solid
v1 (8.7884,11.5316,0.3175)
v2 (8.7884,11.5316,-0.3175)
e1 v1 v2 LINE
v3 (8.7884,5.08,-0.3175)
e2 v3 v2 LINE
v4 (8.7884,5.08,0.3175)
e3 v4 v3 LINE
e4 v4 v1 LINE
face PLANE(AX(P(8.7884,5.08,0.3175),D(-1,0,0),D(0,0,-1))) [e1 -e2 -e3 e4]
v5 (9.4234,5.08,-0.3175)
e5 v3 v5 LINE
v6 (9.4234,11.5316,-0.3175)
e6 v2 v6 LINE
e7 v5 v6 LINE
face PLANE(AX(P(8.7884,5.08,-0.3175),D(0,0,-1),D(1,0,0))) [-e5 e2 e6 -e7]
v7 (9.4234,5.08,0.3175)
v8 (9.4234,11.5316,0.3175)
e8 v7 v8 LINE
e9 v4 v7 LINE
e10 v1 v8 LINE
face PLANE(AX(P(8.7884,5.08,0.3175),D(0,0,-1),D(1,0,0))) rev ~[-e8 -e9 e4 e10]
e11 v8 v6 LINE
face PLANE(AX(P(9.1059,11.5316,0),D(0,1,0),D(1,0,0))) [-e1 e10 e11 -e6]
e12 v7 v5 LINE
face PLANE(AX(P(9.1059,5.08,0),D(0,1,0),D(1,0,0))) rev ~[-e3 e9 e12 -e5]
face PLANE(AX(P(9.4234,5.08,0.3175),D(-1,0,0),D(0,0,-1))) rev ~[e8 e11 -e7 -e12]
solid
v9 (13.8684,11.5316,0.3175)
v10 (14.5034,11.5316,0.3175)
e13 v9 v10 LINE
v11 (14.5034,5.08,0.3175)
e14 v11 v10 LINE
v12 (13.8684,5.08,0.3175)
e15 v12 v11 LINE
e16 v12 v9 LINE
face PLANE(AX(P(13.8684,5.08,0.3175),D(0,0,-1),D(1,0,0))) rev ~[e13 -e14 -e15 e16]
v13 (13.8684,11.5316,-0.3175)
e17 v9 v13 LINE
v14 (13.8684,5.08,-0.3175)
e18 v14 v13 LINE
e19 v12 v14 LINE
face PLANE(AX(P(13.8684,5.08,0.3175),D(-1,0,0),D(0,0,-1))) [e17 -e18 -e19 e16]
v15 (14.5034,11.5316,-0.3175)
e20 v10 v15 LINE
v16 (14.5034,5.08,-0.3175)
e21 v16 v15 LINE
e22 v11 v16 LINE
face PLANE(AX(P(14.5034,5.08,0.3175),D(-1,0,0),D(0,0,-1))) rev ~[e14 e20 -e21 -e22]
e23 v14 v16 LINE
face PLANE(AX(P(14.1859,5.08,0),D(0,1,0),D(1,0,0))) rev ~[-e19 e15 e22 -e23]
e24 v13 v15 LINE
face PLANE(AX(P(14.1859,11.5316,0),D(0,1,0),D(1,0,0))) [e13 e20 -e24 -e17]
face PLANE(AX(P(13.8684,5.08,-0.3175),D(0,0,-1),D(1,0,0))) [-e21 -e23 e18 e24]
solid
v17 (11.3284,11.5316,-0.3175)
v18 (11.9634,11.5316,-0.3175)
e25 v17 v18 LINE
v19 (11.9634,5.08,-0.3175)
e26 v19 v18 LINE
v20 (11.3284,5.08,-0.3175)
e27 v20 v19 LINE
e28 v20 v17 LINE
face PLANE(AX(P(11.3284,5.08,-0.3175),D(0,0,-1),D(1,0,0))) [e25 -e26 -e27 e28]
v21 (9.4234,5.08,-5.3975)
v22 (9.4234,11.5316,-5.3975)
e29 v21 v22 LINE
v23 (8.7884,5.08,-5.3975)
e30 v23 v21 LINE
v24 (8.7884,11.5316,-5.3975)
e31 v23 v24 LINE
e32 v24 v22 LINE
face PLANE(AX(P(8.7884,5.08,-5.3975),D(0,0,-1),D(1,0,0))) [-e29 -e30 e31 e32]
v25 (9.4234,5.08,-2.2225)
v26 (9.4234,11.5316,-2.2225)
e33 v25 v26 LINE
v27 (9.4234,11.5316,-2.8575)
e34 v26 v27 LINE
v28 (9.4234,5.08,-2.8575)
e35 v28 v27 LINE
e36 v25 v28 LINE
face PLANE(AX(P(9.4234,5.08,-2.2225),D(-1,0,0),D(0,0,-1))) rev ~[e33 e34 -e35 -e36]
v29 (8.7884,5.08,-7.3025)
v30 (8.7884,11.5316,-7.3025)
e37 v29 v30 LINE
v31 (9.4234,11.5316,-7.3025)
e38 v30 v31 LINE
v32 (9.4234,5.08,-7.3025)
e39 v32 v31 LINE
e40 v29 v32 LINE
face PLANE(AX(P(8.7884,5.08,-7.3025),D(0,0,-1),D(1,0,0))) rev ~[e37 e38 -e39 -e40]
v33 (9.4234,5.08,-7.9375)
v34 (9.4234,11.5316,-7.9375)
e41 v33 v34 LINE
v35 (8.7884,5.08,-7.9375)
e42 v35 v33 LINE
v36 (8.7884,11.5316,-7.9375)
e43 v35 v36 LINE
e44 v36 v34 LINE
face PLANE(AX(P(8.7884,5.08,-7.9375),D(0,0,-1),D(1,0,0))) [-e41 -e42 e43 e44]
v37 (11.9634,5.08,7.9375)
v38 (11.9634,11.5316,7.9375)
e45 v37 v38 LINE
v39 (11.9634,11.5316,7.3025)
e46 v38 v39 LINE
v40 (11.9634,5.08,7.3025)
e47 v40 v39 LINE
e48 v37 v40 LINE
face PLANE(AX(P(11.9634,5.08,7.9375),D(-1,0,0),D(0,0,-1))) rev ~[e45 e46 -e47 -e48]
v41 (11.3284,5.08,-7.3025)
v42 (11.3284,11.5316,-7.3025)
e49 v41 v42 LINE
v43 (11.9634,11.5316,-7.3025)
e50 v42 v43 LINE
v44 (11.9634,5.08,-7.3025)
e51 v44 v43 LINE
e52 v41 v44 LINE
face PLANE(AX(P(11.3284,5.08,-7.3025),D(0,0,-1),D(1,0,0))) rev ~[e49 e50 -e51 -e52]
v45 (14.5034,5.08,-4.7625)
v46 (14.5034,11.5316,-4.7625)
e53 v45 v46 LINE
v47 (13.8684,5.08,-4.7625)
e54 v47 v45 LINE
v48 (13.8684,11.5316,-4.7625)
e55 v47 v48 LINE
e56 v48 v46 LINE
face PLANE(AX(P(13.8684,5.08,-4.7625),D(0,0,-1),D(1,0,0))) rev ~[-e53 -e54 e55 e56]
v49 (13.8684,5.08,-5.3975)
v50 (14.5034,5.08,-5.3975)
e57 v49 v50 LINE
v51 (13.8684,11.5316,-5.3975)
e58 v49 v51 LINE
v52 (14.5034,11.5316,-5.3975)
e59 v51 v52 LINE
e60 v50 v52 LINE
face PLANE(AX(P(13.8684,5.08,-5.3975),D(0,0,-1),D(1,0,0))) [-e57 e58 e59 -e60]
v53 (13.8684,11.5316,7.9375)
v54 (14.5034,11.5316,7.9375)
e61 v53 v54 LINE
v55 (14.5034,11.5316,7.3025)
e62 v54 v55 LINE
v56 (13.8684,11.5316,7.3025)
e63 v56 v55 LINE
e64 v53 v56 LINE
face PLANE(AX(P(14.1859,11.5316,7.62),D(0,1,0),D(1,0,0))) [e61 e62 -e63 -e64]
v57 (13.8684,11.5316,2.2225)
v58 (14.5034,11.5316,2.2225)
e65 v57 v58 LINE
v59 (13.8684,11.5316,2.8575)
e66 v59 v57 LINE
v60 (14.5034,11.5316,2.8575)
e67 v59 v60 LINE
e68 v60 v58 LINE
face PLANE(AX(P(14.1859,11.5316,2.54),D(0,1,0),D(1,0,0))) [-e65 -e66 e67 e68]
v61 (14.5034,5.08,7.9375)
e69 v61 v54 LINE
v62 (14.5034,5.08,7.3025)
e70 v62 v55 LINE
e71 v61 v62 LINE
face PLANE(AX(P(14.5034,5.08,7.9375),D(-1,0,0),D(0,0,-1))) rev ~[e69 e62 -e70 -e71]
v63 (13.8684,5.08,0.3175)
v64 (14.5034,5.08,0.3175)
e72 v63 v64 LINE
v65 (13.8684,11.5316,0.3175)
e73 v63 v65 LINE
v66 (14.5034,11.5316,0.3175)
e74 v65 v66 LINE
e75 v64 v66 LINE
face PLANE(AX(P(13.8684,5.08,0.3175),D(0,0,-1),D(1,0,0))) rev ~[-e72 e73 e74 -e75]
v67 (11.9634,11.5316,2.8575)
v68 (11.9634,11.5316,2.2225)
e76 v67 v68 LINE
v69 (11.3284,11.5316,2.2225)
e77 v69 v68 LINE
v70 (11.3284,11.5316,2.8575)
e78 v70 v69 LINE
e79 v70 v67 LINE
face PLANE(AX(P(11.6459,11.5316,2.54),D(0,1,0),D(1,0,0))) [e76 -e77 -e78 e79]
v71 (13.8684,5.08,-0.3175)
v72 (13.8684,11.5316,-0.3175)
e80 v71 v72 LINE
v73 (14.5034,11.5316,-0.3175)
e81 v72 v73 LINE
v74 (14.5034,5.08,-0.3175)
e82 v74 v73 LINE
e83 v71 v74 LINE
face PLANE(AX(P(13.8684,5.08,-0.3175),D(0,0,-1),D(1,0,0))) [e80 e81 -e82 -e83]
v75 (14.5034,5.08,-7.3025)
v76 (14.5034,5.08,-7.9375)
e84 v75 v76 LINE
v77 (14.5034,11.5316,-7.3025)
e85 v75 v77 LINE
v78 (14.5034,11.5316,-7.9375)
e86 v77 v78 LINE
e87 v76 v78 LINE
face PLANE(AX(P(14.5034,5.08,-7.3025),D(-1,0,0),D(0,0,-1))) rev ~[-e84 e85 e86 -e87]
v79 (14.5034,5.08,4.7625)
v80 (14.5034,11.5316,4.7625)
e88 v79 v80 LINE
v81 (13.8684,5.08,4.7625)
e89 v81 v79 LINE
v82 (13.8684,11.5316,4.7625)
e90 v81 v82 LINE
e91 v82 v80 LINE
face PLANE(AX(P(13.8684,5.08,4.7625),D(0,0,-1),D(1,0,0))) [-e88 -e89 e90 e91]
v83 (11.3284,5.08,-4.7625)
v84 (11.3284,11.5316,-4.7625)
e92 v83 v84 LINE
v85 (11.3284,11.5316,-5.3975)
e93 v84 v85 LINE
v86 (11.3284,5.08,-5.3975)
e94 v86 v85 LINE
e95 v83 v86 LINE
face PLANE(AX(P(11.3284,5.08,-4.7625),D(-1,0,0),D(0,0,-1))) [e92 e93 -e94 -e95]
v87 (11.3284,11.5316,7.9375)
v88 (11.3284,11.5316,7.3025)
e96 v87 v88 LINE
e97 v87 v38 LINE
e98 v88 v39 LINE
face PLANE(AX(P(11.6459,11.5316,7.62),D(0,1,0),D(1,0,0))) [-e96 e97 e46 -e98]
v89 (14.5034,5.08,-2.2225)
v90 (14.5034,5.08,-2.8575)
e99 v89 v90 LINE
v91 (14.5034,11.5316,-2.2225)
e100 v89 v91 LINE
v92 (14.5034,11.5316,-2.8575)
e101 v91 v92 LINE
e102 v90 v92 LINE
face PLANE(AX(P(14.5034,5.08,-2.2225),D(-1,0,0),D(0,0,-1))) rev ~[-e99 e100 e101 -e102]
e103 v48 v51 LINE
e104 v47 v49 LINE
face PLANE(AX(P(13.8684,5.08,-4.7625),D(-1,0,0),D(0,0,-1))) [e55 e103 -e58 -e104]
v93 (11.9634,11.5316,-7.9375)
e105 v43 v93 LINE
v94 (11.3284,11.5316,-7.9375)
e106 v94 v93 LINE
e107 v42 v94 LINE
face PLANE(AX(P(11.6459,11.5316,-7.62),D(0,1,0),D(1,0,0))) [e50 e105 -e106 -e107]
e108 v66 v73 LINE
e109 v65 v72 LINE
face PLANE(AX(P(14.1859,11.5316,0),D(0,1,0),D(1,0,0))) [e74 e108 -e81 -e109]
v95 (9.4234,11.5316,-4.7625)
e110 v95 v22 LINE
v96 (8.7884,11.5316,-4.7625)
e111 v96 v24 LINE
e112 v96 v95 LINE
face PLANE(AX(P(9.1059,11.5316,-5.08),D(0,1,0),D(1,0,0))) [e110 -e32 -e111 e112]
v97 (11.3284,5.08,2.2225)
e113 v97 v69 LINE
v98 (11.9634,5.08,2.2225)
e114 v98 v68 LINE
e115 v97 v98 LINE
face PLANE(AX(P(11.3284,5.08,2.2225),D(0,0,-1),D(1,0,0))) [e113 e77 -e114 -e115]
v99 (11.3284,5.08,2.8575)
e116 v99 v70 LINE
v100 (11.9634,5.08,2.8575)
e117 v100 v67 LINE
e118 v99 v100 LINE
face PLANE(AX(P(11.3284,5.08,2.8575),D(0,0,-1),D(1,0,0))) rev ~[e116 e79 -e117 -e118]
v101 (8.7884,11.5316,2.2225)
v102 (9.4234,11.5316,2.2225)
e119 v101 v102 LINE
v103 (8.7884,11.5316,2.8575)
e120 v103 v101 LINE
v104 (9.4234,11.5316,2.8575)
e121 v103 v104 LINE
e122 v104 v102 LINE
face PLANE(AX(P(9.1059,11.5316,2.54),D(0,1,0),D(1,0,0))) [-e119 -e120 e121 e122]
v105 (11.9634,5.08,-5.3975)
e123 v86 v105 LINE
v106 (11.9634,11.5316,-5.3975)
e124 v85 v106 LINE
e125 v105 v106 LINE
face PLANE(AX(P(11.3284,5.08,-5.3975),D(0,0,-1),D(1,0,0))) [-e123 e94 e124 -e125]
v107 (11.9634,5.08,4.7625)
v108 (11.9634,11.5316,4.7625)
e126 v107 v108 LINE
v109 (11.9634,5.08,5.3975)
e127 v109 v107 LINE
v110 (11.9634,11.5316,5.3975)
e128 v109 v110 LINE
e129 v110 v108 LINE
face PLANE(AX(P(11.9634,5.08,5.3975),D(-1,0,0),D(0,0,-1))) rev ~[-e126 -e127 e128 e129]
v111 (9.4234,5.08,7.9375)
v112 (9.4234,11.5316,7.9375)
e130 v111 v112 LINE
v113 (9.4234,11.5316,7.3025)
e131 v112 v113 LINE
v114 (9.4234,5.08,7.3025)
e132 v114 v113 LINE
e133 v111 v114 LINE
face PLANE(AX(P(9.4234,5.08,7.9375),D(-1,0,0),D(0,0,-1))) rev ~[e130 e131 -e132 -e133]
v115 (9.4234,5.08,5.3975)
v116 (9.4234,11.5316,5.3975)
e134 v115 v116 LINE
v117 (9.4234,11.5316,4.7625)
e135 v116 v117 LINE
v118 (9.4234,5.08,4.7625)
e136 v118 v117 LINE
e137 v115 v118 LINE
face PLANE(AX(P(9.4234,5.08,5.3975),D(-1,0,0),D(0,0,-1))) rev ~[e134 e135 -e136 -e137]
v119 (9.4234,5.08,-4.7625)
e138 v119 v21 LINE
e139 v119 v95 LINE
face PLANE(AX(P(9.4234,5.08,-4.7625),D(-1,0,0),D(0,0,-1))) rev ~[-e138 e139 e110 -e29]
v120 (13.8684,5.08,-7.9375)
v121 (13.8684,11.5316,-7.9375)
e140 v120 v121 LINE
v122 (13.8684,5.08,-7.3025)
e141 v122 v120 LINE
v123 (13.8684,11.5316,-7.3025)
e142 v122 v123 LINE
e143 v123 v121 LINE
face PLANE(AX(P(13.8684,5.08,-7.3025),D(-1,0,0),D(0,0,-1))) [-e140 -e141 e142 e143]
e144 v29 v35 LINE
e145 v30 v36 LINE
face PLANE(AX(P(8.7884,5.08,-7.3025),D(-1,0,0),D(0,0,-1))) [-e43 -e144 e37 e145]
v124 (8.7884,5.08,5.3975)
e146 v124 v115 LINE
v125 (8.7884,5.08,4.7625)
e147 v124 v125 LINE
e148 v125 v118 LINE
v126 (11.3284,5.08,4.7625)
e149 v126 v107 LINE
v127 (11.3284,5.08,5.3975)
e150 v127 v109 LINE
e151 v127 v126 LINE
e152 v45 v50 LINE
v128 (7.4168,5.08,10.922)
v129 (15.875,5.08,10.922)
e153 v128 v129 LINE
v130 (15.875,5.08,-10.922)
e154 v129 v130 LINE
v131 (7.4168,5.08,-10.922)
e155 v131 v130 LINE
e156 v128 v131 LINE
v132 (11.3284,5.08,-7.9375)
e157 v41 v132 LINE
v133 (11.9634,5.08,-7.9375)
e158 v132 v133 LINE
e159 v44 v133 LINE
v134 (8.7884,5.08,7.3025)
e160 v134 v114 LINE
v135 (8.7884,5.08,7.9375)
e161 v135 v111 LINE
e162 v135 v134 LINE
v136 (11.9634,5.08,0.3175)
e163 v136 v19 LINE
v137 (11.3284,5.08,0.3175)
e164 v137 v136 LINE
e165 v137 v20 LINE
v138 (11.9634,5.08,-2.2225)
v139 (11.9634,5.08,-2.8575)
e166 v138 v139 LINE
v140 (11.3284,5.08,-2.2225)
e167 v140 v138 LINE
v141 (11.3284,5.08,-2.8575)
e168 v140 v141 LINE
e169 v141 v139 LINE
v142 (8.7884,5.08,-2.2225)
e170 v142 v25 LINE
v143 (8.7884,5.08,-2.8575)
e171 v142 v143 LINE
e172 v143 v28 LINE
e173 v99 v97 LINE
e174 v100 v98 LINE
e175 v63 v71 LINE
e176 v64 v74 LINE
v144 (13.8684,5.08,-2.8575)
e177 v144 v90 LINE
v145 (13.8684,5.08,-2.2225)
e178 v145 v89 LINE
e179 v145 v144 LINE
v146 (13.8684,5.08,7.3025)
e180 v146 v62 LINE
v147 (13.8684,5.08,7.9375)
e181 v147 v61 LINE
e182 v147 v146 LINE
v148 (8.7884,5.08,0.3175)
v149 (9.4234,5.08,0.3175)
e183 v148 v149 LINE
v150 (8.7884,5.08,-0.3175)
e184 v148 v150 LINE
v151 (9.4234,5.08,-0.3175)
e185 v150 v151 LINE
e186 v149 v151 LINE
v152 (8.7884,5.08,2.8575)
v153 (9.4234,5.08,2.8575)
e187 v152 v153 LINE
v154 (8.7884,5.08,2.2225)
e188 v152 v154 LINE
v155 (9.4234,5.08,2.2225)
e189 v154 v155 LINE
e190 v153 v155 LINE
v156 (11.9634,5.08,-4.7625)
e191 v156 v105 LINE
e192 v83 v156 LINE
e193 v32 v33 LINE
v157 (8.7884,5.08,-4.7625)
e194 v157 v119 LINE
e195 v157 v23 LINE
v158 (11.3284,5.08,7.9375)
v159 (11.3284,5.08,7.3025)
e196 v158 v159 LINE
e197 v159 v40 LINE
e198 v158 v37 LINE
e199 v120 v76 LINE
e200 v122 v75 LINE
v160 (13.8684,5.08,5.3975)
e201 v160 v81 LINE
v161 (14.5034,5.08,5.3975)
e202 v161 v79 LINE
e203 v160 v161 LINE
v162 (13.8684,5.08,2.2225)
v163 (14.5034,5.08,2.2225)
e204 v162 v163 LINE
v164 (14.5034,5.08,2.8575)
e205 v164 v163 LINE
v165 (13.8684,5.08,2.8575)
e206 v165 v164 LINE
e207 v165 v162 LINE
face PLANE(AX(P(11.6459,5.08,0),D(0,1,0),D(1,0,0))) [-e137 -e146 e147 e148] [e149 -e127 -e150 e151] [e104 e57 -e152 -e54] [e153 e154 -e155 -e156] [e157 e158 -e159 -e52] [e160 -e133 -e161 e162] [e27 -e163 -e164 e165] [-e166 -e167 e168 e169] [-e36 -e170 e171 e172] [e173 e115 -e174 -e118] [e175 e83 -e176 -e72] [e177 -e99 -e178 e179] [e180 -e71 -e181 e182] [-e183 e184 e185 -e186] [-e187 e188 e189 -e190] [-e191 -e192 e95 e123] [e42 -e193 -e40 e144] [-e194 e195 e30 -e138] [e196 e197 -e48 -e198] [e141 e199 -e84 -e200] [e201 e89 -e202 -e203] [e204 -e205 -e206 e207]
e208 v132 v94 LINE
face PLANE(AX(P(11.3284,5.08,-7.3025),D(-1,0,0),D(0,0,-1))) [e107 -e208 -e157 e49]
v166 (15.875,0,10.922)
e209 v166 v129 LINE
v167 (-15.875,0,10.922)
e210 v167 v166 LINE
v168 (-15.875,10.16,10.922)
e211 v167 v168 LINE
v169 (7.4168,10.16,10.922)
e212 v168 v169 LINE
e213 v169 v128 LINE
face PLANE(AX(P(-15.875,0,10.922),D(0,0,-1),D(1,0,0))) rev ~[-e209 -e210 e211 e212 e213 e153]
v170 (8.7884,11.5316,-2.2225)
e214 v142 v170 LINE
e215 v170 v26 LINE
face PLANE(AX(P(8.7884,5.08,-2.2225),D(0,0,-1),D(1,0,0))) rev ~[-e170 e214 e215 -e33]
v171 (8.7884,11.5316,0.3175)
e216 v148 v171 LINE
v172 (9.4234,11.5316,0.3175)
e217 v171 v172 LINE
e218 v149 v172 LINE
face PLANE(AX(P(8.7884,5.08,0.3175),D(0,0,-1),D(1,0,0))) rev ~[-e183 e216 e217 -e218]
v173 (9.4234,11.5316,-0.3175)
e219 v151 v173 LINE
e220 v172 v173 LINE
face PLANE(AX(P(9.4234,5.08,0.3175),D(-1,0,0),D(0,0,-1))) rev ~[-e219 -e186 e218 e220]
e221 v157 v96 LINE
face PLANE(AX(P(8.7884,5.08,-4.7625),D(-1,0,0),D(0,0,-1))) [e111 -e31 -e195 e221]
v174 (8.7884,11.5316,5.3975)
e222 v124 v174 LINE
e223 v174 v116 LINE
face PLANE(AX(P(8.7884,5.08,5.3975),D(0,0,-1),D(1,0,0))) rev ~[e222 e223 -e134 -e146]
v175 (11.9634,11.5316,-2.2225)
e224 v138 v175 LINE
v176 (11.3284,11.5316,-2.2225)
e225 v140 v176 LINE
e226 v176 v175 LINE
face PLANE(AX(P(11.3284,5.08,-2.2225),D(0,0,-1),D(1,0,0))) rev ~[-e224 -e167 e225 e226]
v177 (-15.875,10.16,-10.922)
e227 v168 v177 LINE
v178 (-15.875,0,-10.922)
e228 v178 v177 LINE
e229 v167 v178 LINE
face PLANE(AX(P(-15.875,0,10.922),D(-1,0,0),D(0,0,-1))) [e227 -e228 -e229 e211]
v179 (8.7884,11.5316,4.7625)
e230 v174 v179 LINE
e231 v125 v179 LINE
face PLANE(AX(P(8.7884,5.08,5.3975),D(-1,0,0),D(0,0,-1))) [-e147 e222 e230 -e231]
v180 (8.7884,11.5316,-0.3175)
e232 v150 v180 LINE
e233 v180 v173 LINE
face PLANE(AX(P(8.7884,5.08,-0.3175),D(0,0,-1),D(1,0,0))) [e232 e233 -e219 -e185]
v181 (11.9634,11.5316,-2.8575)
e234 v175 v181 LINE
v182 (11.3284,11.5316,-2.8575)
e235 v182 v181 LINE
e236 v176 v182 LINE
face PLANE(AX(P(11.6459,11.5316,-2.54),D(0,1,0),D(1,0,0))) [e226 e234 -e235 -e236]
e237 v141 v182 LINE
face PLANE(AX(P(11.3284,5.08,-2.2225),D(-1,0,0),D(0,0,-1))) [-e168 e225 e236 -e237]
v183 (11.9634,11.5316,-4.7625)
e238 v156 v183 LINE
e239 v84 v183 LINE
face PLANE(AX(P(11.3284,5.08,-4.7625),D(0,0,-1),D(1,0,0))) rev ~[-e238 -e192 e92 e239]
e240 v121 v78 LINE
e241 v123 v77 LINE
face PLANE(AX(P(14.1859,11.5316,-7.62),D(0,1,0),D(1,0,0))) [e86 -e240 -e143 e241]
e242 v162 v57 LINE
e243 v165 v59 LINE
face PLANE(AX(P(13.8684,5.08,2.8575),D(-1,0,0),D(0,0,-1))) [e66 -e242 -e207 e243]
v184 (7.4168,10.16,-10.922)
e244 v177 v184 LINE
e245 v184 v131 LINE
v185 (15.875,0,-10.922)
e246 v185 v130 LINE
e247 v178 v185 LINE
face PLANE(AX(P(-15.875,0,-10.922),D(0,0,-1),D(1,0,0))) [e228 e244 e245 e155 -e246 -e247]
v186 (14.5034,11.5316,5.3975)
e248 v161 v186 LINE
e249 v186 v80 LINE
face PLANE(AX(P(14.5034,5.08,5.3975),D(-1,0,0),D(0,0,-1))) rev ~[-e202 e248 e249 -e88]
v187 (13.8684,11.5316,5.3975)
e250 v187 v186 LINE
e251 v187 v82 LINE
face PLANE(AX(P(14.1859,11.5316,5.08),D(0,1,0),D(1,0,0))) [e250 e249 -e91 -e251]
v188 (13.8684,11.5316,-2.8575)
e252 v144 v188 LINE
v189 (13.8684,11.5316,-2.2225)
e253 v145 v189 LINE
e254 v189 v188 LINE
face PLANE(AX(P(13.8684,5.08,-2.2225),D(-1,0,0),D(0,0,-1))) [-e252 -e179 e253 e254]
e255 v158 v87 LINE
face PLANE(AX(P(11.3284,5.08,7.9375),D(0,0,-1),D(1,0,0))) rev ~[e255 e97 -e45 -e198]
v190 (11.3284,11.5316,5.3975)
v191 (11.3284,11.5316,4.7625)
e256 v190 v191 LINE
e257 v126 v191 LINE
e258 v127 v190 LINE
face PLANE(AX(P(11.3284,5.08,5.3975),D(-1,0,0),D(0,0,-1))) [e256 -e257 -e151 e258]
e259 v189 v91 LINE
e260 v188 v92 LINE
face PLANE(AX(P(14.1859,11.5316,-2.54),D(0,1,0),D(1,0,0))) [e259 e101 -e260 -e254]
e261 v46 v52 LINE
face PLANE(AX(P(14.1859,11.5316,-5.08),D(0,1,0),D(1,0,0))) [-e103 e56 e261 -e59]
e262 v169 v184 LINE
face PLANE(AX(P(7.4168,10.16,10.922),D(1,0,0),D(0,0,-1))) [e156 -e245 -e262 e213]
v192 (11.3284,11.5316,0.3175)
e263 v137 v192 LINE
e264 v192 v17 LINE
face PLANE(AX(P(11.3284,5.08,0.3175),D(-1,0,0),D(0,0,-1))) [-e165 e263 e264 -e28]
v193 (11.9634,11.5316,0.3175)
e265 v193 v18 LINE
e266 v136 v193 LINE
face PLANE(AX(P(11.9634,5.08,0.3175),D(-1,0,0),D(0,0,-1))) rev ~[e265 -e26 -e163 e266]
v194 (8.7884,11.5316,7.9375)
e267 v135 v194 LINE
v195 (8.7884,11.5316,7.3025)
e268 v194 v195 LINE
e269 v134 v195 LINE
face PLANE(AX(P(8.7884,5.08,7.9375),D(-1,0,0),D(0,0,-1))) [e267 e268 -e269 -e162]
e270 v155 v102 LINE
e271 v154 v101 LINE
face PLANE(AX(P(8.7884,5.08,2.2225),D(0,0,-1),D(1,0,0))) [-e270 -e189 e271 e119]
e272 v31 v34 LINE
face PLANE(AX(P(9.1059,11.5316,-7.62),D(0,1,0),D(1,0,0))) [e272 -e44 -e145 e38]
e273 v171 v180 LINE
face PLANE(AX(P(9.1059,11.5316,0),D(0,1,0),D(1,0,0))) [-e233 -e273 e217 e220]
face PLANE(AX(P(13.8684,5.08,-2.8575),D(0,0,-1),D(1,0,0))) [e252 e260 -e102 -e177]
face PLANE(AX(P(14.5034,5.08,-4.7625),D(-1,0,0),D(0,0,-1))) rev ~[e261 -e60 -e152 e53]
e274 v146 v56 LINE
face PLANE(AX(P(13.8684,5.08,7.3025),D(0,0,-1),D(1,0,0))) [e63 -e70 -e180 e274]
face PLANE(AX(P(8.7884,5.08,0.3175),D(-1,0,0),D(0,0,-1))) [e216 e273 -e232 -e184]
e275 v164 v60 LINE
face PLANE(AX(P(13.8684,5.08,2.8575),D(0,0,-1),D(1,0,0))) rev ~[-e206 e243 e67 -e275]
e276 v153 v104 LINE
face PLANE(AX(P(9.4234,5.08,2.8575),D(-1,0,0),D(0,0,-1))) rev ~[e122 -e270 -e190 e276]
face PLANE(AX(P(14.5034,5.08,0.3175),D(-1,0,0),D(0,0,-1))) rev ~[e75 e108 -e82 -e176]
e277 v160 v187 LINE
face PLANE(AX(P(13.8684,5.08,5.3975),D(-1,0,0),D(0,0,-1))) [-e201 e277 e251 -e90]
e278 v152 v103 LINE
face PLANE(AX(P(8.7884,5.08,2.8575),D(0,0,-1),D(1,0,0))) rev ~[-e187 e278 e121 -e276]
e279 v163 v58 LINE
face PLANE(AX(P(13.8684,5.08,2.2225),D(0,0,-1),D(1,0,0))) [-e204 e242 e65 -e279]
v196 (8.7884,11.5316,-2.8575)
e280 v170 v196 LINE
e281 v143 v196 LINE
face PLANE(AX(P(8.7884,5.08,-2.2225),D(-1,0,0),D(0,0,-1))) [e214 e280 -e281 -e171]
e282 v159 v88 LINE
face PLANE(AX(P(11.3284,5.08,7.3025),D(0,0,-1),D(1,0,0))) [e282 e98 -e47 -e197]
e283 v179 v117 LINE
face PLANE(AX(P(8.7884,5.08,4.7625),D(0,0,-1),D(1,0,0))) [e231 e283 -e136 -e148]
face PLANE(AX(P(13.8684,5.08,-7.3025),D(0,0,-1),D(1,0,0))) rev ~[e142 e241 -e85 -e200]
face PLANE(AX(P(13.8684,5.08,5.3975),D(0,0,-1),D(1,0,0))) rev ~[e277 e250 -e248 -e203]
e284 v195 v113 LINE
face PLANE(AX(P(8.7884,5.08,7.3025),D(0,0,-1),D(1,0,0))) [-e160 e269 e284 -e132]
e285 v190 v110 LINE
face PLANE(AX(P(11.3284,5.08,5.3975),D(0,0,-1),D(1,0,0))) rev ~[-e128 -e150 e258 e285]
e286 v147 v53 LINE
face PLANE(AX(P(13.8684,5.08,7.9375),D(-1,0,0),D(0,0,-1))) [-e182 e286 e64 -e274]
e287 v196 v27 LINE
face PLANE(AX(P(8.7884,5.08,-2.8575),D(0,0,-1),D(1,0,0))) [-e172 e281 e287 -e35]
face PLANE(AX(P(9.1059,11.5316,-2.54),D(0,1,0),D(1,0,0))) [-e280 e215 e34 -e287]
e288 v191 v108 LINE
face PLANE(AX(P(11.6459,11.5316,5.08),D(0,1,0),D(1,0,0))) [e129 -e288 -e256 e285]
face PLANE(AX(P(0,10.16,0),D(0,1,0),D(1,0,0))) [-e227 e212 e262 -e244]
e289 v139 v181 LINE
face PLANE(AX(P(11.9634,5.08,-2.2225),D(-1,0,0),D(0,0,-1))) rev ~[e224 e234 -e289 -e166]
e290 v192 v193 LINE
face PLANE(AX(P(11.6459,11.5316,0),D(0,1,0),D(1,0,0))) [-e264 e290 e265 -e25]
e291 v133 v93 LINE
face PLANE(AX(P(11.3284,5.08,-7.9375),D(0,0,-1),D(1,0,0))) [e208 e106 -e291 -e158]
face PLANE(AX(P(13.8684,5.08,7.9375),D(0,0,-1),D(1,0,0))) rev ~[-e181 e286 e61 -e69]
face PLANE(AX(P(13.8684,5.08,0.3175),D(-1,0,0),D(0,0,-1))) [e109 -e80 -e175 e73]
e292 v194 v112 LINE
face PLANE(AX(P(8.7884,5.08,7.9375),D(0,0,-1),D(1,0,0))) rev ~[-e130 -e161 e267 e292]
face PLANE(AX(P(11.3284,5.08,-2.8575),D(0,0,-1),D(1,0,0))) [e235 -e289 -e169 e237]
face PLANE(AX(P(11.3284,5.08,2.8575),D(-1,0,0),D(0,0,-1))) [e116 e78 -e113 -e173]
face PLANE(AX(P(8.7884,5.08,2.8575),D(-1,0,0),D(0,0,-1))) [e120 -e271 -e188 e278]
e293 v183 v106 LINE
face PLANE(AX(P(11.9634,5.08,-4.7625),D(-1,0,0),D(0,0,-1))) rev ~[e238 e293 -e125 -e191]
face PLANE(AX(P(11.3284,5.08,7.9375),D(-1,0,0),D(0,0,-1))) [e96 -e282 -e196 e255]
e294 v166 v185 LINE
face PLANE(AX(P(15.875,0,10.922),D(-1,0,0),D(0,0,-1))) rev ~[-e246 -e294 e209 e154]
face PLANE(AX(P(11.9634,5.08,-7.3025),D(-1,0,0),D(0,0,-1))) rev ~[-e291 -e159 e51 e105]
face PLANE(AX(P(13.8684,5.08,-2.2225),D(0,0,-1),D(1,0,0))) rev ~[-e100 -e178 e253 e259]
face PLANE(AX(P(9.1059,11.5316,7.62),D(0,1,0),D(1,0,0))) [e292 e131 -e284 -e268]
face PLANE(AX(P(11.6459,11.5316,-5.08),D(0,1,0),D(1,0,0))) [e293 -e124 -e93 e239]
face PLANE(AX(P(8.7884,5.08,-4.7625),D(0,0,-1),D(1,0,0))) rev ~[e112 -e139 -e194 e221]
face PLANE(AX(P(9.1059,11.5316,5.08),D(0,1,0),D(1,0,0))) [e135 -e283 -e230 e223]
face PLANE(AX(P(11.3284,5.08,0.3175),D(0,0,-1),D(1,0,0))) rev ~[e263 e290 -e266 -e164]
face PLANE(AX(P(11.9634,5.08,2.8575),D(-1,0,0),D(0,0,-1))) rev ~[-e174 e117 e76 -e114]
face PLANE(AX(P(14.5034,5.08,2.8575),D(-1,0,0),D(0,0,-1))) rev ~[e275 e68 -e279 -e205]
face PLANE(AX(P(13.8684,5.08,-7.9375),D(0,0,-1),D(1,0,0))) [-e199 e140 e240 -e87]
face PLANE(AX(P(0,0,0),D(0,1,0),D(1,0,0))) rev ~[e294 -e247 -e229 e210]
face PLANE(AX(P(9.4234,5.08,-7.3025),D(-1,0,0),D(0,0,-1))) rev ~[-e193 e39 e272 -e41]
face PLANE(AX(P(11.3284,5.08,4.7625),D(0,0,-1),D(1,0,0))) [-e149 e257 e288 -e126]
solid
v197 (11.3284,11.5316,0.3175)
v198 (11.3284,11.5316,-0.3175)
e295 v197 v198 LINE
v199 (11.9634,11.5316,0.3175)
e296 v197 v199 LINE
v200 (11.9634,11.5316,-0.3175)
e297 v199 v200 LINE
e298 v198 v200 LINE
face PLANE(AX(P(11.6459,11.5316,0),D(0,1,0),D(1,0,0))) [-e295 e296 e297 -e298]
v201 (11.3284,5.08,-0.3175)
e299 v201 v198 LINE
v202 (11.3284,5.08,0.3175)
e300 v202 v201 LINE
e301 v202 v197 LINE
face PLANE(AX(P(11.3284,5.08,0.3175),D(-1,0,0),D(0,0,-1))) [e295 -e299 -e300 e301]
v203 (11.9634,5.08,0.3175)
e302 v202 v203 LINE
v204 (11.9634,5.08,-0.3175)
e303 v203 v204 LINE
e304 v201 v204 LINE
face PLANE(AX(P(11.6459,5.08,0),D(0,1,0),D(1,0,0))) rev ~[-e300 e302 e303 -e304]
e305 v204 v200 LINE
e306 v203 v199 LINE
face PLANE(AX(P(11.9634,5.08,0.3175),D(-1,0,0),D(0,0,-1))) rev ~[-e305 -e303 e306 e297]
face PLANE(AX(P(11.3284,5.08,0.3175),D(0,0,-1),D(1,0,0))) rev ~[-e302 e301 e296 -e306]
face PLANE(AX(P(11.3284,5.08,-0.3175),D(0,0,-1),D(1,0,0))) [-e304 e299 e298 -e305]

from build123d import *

# Parameters (mm, degrees)
SKETCH1_W            = 31.75
SKETCH1_H            = 21.844
BOSS_EXTRUDE1_DEPTH  = 10.16
SKETCH2_W            = 8.4582
SKETCH2_H            = 21.844
CUT_EXTRUDE1_DEPTH   = 5.08
SKETCH3_W            = 0.635
SKETCH3_H            = 0.635
PINS_DEPTH           = 6.4516
PINS_2_DEPTH         = 6.4516
PINS_3_DEPTH         = 6.4516
LPATTERN1_COUNT      = 4
LPATTERN1_PITCH      = 2.54
LPATTERN1_COUNT_DIR2 = 4
LPATTERN1_PITCH_DIR2 = 2.54


with BuildPart() as part:
    # Sketch1 → Boss-Extrude1 (new body)
    with BuildSketch(Plane(origin=(0, 0, 0), x_dir=(1, 0, 0), z_dir=(0, 1, 0))):
        Rectangle(SKETCH1_W, SKETCH1_H)
    extrude(amount=BOSS_EXTRUDE1_DEPTH)

    # Sketch2 → Cut-Extrude1 (cut)
    with BuildSketch(Plane(origin=(0, 10.16, 0), x_dir=(1, 0, 0), z_dir=(0, 1, 0))):
        with Locations((11.6459, 0)):
            Rectangle(SKETCH2_W, SKETCH2_H)
    extrude(amount=-CUT_EXTRUDE1_DEPTH, mode=Mode.SUBTRACT)


with BuildPart() as body_2:
    # Sketch3 → Pins (new body)
    with BuildSketch(Plane(origin=(0, 5.08, 0), x_dir=(1, 0, 0), z_dir=(0, 1, 0))):
        with Locations((14.1859, 0)):
            Rectangle(SKETCH3_W, SKETCH3_H)
    pins = extrude(amount=PINS_DEPTH)


with BuildPart() as body_3:
    # Sketch3 → Pins 2 (new body)
    with BuildSketch(Plane(origin=(0, 5.08, 0), x_dir=(1, 0, 0), z_dir=(0, 1, 0))):
        with Locations((11.6459, 0)):
            Rectangle(SKETCH3_W, SKETCH3_H)
    pins_2 = extrude(amount=PINS_2_DEPTH)


with BuildPart() as body_4:
    # Sketch3 → Pins 3 (new body)
    with BuildSketch(Plane(origin=(0, 5.08, 0), x_dir=(1, 0, 0), z_dir=(0, 1, 0))):
        with Locations((9.1059, 0)):
            Rectangle(SKETCH3_W, SKETCH3_H)
    pins_3 = extrude(amount=PINS_3_DEPTH)


with BuildPart() as part_1:
    add(part.part)

    # LPattern1: Pins, Pins 2, Pins 3 4 × 4
    with Locations(*[Vector(0, 0, -1) * (i * LPATTERN1_PITCH) + Vector(0, 0, 1) * (j * LPATTERN1_PITCH_DIR2) for i in range(LPATTERN1_COUNT) for j in range(LPATTERN1_COUNT_DIR2) if (i, j) != (0, 0)]):
        add(pins)
        add(pins_2)
        add(pins_3)


solid = Compound([body_2.part, body_3.part, body_4.part, part_1.part])
